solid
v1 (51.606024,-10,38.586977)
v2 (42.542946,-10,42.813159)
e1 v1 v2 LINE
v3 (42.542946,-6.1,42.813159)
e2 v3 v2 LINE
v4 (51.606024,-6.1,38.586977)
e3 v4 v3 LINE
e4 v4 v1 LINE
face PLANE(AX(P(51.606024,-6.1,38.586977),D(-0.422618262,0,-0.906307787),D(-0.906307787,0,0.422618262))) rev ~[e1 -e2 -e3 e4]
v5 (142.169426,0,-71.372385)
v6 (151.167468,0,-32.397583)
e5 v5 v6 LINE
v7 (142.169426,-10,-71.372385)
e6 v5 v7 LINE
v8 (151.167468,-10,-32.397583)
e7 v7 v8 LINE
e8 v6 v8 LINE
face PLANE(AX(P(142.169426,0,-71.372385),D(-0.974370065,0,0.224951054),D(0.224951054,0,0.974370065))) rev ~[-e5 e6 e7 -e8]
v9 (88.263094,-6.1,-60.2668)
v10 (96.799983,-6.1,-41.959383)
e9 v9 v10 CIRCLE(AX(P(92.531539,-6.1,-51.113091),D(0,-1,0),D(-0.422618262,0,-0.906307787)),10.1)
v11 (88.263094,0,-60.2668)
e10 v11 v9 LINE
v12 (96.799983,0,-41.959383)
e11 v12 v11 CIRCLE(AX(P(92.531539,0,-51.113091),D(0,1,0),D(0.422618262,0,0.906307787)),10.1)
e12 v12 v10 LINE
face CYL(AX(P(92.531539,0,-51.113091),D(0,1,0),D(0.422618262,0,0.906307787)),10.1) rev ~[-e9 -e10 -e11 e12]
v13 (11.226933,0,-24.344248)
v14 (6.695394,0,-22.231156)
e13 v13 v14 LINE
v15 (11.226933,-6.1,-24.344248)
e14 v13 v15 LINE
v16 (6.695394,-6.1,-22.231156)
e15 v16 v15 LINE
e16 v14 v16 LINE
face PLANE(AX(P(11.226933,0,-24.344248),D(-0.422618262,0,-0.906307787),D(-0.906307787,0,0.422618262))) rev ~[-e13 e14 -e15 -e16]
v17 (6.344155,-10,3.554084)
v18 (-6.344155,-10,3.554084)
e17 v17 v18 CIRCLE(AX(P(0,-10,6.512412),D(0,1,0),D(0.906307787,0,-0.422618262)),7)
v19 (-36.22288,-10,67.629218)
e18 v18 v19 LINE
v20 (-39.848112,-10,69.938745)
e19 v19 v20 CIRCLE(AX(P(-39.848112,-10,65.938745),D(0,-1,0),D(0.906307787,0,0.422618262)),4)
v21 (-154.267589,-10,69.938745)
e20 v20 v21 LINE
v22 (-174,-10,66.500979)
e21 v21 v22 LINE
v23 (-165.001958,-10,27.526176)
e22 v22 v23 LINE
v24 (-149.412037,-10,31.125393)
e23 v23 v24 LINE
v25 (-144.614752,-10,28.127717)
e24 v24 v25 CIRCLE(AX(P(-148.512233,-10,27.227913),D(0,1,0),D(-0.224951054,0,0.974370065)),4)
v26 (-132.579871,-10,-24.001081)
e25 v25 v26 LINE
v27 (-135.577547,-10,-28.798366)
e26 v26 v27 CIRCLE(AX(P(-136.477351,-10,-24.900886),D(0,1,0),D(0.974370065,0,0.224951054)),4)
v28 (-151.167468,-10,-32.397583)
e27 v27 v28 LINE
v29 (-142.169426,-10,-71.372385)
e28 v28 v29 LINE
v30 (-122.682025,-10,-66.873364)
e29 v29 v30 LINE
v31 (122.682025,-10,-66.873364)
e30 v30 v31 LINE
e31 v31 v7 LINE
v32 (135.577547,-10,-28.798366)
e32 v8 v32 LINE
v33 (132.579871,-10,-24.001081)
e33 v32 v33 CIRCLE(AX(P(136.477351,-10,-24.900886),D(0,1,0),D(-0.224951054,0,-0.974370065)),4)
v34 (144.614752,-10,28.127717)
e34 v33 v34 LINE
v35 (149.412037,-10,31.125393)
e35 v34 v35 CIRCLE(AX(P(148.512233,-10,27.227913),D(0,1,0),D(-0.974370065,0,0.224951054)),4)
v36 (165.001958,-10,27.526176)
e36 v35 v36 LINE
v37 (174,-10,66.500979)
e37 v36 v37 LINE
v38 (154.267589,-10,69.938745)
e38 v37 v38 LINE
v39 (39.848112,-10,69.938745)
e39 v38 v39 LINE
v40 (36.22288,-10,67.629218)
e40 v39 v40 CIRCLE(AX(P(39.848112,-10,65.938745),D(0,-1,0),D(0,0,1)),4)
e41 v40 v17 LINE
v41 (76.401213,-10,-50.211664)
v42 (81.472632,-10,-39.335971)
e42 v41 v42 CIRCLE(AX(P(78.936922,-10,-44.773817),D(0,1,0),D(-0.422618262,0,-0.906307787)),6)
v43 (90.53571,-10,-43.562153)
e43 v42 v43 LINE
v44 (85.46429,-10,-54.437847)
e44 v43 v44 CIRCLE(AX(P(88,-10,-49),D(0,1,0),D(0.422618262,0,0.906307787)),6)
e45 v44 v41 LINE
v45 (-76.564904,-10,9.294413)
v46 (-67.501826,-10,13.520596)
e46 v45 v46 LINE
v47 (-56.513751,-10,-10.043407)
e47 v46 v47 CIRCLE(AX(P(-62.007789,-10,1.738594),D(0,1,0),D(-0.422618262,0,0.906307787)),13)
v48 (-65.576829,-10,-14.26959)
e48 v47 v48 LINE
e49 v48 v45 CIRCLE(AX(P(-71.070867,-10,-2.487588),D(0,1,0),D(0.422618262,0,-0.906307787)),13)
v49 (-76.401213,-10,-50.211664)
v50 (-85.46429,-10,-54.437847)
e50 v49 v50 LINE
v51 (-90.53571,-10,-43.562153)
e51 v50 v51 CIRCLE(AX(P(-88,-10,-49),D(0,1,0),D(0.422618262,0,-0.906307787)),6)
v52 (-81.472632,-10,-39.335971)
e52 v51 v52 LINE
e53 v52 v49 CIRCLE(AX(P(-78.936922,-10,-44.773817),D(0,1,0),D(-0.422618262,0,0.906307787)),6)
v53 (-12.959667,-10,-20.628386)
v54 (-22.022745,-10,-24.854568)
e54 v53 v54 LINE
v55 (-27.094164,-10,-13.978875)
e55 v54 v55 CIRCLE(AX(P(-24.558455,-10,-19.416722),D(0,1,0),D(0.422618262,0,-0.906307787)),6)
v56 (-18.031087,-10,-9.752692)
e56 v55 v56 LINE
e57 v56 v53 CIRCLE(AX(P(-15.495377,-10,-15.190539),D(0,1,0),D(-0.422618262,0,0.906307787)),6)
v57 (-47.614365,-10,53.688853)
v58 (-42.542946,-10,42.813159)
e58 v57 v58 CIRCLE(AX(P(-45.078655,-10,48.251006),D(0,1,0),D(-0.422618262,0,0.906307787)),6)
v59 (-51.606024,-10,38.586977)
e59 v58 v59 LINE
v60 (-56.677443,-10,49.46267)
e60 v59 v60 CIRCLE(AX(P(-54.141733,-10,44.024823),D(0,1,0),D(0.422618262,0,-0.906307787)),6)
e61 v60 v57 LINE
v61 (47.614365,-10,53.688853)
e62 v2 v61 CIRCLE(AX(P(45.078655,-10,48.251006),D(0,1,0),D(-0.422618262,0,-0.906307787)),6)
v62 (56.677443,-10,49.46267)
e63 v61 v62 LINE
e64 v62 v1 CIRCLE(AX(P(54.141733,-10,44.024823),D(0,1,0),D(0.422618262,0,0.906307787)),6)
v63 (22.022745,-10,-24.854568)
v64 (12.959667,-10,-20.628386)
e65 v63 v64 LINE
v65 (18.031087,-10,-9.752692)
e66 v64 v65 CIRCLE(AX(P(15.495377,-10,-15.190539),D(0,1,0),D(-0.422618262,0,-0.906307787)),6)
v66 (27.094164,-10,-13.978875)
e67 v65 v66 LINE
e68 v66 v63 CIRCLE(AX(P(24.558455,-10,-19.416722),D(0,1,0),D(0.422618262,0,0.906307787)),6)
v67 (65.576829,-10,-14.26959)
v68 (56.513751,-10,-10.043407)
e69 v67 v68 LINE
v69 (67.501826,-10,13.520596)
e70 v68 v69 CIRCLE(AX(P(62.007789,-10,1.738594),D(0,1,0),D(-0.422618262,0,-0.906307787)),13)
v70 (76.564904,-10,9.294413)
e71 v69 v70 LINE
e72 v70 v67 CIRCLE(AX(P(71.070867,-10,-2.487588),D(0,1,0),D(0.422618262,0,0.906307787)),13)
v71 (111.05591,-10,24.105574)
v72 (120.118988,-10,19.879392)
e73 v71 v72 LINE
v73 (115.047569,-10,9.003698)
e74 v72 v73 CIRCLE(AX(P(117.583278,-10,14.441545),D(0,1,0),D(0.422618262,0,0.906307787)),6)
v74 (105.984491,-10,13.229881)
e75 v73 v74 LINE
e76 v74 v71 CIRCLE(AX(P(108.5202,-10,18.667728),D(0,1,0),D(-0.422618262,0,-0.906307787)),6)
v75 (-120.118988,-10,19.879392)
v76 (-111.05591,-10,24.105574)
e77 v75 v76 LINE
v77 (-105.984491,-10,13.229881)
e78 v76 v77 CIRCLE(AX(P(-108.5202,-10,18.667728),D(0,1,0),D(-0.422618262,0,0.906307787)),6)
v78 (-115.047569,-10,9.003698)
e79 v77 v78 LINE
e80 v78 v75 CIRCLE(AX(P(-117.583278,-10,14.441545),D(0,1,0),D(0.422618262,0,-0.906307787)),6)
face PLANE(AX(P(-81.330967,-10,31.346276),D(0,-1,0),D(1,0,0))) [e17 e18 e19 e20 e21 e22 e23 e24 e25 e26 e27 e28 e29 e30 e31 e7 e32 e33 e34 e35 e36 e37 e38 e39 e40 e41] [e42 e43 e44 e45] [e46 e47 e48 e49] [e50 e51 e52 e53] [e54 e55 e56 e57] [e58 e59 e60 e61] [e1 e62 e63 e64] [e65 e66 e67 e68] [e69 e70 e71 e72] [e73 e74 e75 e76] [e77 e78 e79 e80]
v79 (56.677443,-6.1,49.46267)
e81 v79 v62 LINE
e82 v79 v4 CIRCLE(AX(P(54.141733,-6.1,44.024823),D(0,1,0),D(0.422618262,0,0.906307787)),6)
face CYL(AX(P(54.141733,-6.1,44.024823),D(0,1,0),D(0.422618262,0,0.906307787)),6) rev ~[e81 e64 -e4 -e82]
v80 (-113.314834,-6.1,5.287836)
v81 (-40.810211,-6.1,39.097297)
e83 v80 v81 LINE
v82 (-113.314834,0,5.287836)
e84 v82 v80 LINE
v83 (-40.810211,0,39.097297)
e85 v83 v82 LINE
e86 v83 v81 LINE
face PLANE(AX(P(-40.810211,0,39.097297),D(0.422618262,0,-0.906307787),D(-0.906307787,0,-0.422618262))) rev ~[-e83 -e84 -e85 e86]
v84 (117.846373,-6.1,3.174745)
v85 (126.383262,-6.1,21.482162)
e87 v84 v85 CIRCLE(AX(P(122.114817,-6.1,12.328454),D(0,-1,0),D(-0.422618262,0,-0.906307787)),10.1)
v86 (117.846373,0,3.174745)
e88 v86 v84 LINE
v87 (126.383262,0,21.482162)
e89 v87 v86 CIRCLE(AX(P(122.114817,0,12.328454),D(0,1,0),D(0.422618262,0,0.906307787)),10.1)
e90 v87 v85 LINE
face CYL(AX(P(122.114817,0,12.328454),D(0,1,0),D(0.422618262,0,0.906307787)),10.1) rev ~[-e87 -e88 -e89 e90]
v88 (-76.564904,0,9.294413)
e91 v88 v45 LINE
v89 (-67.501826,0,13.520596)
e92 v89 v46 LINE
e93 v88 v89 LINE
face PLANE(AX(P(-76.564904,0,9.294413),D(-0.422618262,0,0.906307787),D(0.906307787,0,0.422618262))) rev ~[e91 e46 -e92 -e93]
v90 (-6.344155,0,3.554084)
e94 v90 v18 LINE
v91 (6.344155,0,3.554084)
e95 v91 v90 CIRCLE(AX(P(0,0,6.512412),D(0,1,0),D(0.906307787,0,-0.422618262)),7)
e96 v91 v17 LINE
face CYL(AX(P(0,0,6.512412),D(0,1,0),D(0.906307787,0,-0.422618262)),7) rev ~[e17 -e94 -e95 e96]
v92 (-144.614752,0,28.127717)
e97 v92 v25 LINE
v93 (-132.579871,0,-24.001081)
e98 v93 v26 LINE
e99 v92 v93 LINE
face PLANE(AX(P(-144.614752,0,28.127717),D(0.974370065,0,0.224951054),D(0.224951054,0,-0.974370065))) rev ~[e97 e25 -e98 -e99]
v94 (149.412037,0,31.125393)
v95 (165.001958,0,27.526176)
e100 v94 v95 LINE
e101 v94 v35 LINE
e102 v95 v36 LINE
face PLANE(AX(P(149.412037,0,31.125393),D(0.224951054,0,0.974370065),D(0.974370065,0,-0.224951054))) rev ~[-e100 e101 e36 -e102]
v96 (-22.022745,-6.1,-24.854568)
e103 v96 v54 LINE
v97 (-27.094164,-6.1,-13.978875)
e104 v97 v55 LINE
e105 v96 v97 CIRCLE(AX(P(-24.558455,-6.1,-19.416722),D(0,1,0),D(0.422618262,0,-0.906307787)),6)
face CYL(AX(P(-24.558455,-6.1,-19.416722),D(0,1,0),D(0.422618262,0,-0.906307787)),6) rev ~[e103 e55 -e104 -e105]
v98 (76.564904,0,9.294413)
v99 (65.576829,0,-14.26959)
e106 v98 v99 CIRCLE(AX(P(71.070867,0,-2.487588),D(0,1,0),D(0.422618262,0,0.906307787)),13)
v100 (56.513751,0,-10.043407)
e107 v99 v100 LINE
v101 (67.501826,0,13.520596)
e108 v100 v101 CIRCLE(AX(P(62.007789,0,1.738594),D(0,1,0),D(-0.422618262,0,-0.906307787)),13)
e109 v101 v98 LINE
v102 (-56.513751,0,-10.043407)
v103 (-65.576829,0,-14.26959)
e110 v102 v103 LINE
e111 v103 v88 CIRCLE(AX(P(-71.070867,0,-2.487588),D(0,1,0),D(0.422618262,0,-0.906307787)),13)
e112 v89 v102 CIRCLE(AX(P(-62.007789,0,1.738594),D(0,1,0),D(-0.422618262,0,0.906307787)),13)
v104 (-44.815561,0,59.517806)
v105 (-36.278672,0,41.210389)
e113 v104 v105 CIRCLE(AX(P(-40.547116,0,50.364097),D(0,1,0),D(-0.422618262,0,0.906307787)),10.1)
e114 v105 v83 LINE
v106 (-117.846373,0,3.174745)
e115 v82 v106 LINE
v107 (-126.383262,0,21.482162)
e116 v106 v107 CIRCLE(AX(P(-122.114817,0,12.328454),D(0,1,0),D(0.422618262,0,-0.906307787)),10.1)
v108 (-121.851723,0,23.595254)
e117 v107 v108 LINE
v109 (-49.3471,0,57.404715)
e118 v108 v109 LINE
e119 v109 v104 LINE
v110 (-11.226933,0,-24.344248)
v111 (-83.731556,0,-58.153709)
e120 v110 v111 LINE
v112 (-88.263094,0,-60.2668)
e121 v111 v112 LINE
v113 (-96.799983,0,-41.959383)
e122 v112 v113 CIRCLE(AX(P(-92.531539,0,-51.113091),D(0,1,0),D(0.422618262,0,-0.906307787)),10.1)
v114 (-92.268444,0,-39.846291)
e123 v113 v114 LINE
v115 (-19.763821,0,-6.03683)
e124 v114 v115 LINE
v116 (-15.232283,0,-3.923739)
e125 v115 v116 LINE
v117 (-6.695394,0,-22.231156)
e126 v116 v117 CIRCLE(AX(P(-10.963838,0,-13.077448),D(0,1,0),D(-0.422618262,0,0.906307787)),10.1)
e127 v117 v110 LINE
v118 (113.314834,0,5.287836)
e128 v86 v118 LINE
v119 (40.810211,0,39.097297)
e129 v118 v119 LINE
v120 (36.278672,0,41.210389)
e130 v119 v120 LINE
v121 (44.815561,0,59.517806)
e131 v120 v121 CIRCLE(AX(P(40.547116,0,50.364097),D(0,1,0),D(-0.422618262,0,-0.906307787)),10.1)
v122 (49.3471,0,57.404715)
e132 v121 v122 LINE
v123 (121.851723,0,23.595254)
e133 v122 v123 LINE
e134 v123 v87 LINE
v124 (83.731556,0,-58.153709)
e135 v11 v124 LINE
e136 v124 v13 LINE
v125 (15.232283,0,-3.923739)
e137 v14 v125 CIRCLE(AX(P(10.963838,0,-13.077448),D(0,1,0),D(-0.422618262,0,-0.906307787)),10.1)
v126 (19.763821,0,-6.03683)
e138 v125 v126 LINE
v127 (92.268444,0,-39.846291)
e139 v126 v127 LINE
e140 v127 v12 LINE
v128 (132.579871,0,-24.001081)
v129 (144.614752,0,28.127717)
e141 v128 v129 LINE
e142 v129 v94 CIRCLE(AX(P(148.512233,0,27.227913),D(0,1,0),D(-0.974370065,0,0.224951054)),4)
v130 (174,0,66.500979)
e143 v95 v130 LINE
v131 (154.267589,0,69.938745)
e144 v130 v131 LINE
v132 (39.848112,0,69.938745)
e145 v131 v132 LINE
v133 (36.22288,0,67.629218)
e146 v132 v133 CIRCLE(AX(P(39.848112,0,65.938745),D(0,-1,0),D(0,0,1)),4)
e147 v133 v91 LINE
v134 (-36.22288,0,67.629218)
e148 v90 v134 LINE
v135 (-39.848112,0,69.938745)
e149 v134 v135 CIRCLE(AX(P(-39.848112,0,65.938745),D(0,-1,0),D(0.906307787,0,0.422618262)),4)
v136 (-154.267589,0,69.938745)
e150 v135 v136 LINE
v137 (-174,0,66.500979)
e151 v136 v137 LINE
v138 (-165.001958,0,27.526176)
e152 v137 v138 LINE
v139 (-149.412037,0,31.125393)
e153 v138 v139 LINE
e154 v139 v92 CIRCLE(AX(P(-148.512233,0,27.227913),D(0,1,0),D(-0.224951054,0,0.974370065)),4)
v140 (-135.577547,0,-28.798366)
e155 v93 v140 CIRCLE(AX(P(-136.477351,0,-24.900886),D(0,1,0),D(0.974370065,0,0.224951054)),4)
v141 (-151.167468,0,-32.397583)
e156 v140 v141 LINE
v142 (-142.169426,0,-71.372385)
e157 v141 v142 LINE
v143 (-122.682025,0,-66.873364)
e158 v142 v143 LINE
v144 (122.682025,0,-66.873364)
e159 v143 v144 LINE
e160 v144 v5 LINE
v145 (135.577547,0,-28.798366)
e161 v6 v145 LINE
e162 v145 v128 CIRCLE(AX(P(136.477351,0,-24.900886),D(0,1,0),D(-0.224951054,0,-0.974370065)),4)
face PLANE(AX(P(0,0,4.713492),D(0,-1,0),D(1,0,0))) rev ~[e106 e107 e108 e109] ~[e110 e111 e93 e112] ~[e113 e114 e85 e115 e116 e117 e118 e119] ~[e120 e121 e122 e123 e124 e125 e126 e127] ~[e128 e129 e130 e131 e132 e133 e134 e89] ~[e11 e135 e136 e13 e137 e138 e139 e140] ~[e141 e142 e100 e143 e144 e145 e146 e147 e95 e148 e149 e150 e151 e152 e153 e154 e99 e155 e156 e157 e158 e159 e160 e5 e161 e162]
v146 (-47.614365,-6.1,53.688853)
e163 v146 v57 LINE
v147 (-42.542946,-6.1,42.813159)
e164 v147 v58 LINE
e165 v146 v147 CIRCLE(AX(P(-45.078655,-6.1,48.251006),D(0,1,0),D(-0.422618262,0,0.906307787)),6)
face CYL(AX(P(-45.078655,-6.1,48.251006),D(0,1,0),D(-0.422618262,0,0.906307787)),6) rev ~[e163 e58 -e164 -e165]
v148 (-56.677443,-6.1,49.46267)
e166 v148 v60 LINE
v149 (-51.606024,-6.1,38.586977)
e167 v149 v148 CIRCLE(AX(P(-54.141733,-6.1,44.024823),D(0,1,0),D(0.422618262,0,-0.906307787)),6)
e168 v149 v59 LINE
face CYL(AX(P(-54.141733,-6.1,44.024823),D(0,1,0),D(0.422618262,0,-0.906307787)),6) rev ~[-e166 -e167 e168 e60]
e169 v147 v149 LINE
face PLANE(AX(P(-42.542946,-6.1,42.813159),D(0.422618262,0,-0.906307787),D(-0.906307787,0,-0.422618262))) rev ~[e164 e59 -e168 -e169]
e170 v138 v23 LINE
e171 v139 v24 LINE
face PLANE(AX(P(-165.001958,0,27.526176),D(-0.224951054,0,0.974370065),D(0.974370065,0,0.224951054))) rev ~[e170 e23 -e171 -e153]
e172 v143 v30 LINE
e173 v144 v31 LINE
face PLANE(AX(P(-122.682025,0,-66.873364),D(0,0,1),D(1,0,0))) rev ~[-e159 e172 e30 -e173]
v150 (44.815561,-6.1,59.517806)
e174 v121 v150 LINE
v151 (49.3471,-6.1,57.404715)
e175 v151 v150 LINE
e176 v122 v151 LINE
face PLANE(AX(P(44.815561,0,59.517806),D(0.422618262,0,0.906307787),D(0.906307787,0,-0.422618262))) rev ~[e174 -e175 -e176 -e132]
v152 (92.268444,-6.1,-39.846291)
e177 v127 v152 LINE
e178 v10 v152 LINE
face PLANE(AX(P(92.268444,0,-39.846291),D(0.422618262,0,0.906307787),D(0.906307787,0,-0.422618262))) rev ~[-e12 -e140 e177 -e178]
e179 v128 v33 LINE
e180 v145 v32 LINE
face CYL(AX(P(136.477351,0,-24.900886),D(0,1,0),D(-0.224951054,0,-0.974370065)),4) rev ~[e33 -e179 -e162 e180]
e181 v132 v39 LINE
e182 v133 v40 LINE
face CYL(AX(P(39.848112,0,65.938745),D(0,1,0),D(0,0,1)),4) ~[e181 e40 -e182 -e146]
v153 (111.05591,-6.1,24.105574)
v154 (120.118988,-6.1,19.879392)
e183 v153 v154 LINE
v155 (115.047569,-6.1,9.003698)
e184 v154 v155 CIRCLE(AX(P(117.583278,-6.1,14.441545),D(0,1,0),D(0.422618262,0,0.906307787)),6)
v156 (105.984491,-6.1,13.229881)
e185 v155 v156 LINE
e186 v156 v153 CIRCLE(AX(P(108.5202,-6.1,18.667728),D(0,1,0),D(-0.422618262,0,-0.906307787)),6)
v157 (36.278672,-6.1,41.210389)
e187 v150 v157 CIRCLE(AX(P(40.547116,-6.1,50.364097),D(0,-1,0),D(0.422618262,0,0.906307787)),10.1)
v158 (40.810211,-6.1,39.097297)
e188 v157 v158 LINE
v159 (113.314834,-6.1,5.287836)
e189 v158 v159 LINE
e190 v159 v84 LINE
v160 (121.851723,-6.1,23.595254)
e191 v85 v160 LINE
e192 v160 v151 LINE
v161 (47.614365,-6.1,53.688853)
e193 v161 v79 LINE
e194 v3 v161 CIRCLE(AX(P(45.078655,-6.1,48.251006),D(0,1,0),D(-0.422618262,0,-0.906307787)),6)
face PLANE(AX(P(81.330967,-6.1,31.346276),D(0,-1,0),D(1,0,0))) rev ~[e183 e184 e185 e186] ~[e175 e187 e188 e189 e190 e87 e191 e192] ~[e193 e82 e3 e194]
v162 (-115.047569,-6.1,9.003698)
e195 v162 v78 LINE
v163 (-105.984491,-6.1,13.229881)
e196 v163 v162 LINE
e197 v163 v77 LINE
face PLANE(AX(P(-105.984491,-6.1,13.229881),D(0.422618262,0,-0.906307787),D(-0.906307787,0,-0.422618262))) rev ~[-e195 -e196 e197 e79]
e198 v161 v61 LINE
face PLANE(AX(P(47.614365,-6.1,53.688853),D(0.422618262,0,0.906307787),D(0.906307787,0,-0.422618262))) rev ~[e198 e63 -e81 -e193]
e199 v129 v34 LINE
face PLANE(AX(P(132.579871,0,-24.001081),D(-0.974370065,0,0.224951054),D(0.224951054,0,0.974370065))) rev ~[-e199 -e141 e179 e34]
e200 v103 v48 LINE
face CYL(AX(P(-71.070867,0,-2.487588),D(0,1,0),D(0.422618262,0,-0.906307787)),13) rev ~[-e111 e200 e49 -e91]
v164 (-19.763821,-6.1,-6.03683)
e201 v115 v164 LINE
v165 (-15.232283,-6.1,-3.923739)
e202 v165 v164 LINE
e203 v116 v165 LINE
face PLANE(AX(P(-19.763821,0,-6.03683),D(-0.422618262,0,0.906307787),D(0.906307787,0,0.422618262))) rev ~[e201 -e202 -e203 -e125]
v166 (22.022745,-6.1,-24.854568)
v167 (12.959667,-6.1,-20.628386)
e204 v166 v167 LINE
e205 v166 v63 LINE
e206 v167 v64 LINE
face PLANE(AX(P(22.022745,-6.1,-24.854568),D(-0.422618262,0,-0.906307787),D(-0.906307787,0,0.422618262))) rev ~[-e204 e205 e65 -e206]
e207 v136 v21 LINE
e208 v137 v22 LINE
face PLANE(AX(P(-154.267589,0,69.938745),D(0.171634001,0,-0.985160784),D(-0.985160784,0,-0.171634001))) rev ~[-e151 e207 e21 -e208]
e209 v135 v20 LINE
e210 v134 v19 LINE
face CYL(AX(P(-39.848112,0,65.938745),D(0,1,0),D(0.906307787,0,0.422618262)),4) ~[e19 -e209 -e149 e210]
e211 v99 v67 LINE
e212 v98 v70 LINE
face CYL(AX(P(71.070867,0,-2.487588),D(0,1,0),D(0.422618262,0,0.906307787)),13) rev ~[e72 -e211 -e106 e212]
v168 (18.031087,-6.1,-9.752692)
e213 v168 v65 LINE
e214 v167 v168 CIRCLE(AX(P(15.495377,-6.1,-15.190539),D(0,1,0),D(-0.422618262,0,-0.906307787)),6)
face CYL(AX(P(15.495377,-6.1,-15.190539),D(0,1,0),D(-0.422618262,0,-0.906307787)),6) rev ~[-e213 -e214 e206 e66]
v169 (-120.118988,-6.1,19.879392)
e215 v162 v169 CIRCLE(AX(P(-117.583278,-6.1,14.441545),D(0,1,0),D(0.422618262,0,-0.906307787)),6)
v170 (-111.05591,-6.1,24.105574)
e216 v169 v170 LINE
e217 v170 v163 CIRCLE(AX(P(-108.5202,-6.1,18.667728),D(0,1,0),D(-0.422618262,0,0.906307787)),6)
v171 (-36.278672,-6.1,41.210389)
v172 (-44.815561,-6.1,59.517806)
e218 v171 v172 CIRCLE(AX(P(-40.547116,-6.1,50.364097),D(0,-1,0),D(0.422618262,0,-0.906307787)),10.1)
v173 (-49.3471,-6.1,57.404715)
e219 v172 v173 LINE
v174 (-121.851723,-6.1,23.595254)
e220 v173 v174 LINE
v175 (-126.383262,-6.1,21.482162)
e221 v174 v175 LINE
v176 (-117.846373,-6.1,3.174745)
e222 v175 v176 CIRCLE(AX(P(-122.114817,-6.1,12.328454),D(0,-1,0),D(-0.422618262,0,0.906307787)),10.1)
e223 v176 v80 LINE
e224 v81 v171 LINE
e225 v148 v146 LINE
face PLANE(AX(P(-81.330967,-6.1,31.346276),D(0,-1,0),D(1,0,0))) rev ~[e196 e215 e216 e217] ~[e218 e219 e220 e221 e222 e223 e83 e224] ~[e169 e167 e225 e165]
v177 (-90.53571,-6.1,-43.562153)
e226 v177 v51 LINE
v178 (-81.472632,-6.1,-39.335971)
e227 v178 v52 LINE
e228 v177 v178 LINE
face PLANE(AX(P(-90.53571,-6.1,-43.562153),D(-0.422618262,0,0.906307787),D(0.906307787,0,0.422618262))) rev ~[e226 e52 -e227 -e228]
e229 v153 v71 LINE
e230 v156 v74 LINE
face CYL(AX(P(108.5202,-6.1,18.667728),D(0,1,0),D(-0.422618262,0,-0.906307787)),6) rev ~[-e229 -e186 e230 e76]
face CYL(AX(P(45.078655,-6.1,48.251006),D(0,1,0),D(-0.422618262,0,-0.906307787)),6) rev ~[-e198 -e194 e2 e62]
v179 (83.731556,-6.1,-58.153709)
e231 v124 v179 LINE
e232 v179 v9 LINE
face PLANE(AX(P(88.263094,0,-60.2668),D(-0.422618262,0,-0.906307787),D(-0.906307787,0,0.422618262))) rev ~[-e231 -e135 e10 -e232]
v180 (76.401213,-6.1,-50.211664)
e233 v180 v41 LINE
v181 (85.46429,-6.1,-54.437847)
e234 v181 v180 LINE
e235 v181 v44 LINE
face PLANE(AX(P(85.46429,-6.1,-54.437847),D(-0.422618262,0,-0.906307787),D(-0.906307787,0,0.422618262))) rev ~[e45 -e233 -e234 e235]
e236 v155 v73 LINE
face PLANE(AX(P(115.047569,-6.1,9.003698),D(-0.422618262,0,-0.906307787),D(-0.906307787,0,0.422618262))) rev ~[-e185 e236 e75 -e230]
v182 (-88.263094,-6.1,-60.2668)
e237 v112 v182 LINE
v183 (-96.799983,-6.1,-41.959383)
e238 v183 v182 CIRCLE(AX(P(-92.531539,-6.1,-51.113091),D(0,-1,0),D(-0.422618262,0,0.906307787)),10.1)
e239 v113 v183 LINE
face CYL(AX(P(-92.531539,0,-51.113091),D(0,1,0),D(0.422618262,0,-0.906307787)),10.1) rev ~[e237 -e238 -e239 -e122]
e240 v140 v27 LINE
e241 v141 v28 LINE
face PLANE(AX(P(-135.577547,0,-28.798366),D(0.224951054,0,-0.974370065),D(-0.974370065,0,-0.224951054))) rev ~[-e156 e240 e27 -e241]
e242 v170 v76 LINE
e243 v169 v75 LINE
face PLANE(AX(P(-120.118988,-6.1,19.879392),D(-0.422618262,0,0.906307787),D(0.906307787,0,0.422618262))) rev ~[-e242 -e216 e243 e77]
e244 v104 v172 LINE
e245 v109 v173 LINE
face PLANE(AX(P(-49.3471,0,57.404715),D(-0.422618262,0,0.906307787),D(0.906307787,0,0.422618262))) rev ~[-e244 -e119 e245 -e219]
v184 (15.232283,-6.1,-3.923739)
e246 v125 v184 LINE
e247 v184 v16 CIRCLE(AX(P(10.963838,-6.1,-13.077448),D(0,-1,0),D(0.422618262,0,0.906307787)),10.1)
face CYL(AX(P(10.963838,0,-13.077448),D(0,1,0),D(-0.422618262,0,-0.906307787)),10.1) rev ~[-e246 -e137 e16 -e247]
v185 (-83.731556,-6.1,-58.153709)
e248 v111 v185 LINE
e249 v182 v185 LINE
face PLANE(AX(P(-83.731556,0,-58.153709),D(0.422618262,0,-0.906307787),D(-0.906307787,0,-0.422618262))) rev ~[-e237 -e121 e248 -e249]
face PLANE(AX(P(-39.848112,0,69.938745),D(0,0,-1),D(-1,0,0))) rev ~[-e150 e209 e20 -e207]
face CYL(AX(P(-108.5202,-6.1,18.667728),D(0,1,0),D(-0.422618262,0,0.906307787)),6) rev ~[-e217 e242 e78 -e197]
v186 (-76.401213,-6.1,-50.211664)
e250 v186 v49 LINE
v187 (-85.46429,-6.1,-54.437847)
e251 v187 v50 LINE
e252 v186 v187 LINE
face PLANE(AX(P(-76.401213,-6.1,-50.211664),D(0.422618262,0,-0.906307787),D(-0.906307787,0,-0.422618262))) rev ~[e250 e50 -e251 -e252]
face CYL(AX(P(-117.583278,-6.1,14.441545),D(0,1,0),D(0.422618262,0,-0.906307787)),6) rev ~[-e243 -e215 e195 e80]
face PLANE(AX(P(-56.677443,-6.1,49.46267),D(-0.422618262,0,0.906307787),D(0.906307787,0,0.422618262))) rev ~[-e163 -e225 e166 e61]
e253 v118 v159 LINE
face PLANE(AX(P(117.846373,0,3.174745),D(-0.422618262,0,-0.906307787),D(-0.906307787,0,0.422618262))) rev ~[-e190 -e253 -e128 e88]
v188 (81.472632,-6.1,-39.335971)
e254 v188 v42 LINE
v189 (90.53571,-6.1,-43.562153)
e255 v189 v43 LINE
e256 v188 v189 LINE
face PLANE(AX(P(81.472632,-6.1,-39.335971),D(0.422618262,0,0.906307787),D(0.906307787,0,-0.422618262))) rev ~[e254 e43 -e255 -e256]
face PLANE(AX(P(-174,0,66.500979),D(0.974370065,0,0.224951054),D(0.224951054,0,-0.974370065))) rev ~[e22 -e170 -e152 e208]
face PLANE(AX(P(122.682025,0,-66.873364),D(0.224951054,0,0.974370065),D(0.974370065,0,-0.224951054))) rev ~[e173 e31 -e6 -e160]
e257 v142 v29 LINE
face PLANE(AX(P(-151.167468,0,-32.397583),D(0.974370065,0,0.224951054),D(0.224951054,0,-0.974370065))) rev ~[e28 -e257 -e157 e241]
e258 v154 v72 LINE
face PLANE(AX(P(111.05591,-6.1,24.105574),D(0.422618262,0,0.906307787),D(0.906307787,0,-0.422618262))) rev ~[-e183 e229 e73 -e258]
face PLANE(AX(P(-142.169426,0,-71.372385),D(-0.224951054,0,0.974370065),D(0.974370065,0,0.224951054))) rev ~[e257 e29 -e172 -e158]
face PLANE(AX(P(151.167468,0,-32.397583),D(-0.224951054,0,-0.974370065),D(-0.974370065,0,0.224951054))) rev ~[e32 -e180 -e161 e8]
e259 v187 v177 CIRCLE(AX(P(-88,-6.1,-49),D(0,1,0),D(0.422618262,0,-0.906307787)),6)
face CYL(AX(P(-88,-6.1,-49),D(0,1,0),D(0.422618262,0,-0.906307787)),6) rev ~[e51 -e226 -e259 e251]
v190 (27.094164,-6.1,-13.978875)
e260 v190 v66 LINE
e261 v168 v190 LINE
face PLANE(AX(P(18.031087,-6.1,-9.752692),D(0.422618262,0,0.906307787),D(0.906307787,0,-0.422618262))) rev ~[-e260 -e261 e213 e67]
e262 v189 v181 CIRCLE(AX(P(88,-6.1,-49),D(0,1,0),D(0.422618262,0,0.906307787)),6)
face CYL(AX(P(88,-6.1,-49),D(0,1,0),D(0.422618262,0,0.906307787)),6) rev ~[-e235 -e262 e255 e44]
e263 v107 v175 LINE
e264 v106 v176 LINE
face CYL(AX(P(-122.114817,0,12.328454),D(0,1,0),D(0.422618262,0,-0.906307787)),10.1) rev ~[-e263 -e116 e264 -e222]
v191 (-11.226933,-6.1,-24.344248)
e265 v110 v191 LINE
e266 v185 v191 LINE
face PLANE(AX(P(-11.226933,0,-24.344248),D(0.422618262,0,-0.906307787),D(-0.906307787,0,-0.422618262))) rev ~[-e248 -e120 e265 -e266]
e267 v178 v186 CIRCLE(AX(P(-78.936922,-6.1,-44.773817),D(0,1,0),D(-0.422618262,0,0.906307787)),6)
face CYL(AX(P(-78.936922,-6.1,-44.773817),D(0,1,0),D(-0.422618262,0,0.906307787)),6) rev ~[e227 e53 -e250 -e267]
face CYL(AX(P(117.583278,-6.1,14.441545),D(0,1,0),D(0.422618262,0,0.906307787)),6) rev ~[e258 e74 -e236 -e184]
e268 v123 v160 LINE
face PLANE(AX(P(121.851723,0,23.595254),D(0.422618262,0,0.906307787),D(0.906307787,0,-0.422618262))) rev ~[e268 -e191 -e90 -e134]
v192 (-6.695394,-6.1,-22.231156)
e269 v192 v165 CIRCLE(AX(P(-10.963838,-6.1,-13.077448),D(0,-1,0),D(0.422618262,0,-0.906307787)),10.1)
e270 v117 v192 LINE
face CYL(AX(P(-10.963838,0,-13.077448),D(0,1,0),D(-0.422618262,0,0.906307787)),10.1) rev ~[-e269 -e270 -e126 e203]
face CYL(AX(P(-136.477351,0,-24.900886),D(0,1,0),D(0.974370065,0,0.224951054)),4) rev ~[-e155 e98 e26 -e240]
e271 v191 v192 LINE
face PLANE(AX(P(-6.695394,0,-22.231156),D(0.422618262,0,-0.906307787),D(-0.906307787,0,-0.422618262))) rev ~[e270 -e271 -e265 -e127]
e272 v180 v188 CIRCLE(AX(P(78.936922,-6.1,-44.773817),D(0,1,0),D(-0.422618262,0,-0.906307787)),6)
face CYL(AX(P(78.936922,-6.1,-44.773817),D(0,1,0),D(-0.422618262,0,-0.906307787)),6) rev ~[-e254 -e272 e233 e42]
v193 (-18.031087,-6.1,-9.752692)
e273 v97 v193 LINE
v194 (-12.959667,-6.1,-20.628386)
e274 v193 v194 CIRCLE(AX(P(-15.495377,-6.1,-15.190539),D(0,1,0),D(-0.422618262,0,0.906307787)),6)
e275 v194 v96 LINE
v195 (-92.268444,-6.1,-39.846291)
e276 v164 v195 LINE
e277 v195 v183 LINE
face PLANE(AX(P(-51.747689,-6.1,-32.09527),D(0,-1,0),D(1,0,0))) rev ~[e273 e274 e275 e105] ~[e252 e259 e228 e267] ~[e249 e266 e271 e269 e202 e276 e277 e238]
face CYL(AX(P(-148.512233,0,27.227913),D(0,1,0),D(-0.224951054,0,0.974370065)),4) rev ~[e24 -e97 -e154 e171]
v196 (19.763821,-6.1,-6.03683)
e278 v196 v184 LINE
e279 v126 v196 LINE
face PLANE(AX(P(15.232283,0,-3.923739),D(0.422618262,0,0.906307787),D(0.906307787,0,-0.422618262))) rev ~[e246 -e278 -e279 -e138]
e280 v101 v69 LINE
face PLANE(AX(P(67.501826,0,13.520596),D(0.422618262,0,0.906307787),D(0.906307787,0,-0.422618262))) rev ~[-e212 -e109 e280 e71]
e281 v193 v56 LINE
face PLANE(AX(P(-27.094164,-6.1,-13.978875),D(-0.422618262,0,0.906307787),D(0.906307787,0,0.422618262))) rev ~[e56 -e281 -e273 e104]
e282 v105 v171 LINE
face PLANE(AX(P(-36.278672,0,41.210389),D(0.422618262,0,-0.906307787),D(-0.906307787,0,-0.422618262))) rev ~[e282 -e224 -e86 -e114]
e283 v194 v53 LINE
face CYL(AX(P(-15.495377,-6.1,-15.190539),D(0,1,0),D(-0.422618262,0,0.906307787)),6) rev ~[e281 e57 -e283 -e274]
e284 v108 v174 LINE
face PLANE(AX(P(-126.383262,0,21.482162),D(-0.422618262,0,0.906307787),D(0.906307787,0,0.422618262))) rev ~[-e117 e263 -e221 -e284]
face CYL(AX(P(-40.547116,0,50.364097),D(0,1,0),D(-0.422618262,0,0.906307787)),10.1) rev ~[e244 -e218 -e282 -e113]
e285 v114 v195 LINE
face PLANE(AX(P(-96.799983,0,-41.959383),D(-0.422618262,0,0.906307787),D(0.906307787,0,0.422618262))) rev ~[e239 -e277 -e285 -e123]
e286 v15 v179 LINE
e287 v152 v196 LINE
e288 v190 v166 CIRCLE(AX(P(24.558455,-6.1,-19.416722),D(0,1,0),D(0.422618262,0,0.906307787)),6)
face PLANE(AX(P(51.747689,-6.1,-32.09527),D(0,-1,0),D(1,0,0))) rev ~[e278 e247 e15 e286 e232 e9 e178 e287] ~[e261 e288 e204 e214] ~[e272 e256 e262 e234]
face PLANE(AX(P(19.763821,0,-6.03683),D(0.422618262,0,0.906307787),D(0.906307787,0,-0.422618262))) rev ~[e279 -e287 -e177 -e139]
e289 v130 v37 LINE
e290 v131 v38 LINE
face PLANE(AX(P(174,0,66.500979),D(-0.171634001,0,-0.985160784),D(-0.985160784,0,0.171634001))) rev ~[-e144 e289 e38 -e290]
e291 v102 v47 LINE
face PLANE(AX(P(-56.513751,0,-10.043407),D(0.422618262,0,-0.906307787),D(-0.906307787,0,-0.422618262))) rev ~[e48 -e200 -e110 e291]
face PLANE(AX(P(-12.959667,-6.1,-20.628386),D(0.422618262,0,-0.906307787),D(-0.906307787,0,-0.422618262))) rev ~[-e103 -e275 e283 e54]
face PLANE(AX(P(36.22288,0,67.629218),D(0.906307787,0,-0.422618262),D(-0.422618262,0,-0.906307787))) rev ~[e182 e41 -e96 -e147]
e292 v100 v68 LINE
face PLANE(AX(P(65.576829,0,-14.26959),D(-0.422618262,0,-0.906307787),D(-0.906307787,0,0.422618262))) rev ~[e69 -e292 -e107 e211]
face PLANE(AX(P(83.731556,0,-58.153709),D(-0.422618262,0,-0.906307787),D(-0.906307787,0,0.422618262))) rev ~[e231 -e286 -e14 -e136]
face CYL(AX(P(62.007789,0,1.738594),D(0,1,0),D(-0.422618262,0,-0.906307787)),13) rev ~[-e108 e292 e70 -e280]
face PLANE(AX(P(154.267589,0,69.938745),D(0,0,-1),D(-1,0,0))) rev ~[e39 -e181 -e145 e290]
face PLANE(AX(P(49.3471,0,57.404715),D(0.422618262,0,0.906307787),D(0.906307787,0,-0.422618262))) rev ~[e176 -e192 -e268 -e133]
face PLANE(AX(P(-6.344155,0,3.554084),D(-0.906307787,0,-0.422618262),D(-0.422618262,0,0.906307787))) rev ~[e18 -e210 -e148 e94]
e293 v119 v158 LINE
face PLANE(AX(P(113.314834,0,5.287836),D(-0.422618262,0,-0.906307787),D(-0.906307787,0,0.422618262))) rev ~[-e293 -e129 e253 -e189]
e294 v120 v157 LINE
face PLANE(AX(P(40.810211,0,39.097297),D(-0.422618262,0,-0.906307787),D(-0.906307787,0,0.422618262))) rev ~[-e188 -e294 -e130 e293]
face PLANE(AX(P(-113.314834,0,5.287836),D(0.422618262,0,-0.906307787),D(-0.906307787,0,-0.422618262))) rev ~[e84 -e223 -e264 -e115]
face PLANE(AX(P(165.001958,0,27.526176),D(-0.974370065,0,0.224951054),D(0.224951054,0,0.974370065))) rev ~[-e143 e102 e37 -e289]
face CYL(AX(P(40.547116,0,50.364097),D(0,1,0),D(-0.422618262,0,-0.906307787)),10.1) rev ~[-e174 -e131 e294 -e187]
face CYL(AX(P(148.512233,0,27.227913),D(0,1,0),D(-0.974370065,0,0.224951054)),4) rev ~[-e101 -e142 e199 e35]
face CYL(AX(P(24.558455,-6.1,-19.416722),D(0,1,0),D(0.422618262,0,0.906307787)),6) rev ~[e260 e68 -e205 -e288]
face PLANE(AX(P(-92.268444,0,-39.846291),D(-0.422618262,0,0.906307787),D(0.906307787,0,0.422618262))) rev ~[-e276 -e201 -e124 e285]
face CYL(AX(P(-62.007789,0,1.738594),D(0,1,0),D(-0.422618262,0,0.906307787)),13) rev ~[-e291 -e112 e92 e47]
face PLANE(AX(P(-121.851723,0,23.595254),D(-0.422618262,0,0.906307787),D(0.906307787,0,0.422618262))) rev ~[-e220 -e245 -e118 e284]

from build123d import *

# Parameters (mm, degrees)
F1_DEPTH = 10
F2_START = 6.1
F2_DEPTH = 3.9


with BuildPart() as f1:
    # F0 (on Front) → F1 (new body)
    with BuildSketch(Plane.XZ):
        with BuildLine():
            ThreePointArc((-36.2228804372, 67.6292184035), (-37.698913152, 69.3123111398), (-39.8481115853, 69.9387453565))
            Line((-39.8481115853, 69.9387453565), (-154.2675887644, 69.9387453565))
            Line((-154.2675887644, 69.9387453565), (-174, 66.5009789131))
            Line((-174, 66.5009789131), (-165.0019578262, 27.5261763217))
            Line((-165.0019578262, 27.5261763217), (-149.4120367897, 31.1253931912))
            ThreePointArc((-149.4120367897, 31.1253931912), (-146.3925555154, 30.6201053167), (-144.6147523132, 28.1277171494))
            Line((-144.6147523132, 28.1277171494), (-132.5798709058, -24.0010813166))
            ThreePointArc((-132.5798709058, -24.0010813166), (-133.0851587803, -27.0205625909), (-135.5775469475, -28.7983657931))
            Line((-135.5775469475, -28.7983657931), (-151.1674679841, -32.3975826626))
            Line((-151.1674679841, -32.3975826626), (-142.1694258103, -71.372385254))
            Line((-142.1694258103, -71.372385254), (-122.6820245146, -66.8733641671))
            Line((-122.6820245146, -66.8733641671), (122.6820245146, -66.8733641671))
            Line((122.6820245146, -66.8733641671), (142.1694258103, -71.372385254))
            Line((142.1694258103, -71.372385254), (151.1674679841, -32.3975826626))
            Line((151.1674679841, -32.3975826626), (135.5775469475, -28.7983657931))
            ThreePointArc((135.5775469475, -28.7983657931), (133.0851587803, -27.0205625909), (132.5798709058, -24.0010813166))
            Line((132.5798709058, -24.0010813166), (144.6147523132, 28.1277171494))
            ThreePointArc((144.6147523132, 28.1277171494), (146.3925555154, 30.6201053167), (149.4120367897, 31.1253931912))
            Line((149.4120367897, 31.1253931912), (165.0019578262, 27.5261763217))
            Line((165.0019578262, 27.5261763217), (174, 66.5009789131))
            Line((174, 66.5009789131), (154.2675887644, 69.9387453565))
            Line((154.2675887644, 69.9387453565), (39.8481115853, 69.9387453565))
            ThreePointArc((39.8481115853, 69.9387453565), (37.698913152, 69.3123111398), (36.2228804372, 67.6292184035))
            Line((36.2228804372, 67.6292184035), (6.3441545093, 3.554083875))
            ThreePointArc((6.3441545093, 3.554083875), (0, -0.4875882928), (-6.3441545093, 3.554083875))
            Line((-6.3441545093, 3.554083875), (-36.2228804372, 67.6292184035))
        make_face()
        with BuildLine():
            Line((-96.7999833788, -41.9593826596), (-92.2684444436, -39.8462913509))
            Line((-92.2684444436, -39.8462913509), (-19.7638214806, -6.0368304117))
            Line((-19.7638214806, -6.0368304117), (-15.2322825455, -3.923739103))
            ThreePointArc((-15.2322825455, -3.923739103), (-1.8101294528, -8.8090033085), (-6.6953936583, -22.2311564011))
            Line((-6.6953936583, -22.2311564011), (-11.2269325935, -24.3442477098))
            Line((-11.2269325935, -24.3442477098), (-83.7315555564, -58.1537086491))
            Line((-83.7315555564, -58.1537086491), (-88.2630944916, -60.2667999578))
            ThreePointArc((-88.2630944916, -60.2667999578), (-101.6852475843, -55.3815357523), (-96.7999833788, -41.9593826596))
        make_face(mode=Mode.SUBTRACT)
        with BuildLine():
            Line((88.2630944916, -60.2667999578), (83.7315555564, -58.1537086491))
            Line((83.7315555564, -58.1537086491), (11.2269325935, -24.3442477098))
            Line((11.2269325935, -24.3442477098), (6.6953936583, -22.2311564011))
            ThreePointArc((6.6953936583, -22.2311564011), (1.8101294528, -8.8090033085), (15.2322825455, -3.923739103))
            Line((15.2322825455, -3.923739103), (19.7638214806, -6.0368304117))
            Line((19.7638214806, -6.0368304117), (92.2684444436, -39.8462913509))
            Line((92.2684444436, -39.8462913509), (96.7999833788, -41.9593826596))
            ThreePointArc((96.7999833788, -41.9593826596), (101.6852475843, -55.3815357523), (88.2630944916, -60.2667999578))
        make_face(mode=Mode.SUBTRACT)
        with BuildLine():
            ThreePointArc((-65.576829212, -14.2695895243), (-82.8528678461, -7.9816256954), (-76.5649040173, 9.2944129387))
            Line((-76.5649040173, 9.2944129387), (-67.5018261469, 13.5205955561))
            ThreePointArc((-67.5018261469, 13.5205955561), (-50.2257875128, 7.2326317272), (-56.5137513416, -10.0434069069))
            Line((-56.5137513416, -10.0434069069), (-65.576829212, -14.2695895243))
        make_face(mode=Mode.SUBTRACT)
        with BuildLine():
            Line((-40.8102109153, 39.0972973828), (-113.3148338783, 5.2878364435))
            Line((-113.3148338783, 5.2878364435), (-117.8463728135, 3.1747451348))
            ThreePointArc((-117.8463728135, 3.1747451348), (-131.2685259061, 8.0600093403), (-126.3832617006, 21.4821624329))
            Line((-126.3832617006, 21.4821624329), (-121.8517227654, 23.5952537416))
            Line((-121.8517227654, 23.5952537416), (-49.3470998025, 57.4047146809))
            Line((-49.3470998025, 57.4047146809), (-44.8155608673, 59.5178059896))
            ThreePointArc((-44.8155608673, 59.5178059896), (-31.3934077747, 54.6325417841), (-36.2786719802, 41.2103886915))
            Line((-36.2786719802, 41.2103886915), (-40.8102109153, 39.0972973828))
        make_face(mode=Mode.SUBTRACT)
        with BuildLine():
            ThreePointArc((76.5649040173, 9.2944129387), (82.8528678461, -7.9816256954), (65.576829212, -14.2695895243))
            Line((65.576829212, -14.2695895243), (56.5137513416, -10.0434069069))
            ThreePointArc((56.5137513416, -10.0434069069), (50.2257875128, 7.2326317272), (67.5018261469, 13.5205955561))
            Line((67.5018261469, 13.5205955561), (76.5649040173, 9.2944129387))
        make_face(mode=Mode.SUBTRACT)
        with BuildLine():
            Line((49.3470998025, 57.4047146809), (121.8517227654, 23.5952537416))
            Line((121.8517227654, 23.5952537416), (126.3832617006, 21.4821624329))
            ThreePointArc((126.3832617006, 21.4821624329), (131.2685259061, 8.0600093403), (117.8463728135, 3.1747451348))
            Line((117.8463728135, 3.1747451348), (113.3148338783, 5.2878364435))
            Line((113.3148338783, 5.2878364435), (40.8102109153, 39.0972973828))
            Line((40.8102109153, 39.0972973828), (36.2786719802, 41.2103886915))
            ThreePointArc((36.2786719802, 41.2103886915), (31.3934077747, 54.6325417841), (44.8155608673, 59.5178059896))
            Line((44.8155608673, 59.5178059896), (49.3470998025, 57.4047146809))
        make_face(mode=Mode.SUBTRACT)
    extrude(amount=F1_DEPTH)

    # F0 (on Front) → F2 (join)
    with BuildSketch(Plane.XZ.offset(F2_START)):
        with BuildLine():
            Line((-117.8463728135, 3.1747451348), (-113.3148338783, 5.2878364435))
            Line((-113.3148338783, 5.2878364435), (-40.8102109153, 39.0972973828))
            Line((-40.8102109153, 39.0972973828), (-36.2786719802, 41.2103886915))
            ThreePointArc((-36.2786719802, 41.2103886915), (-31.3934077747, 54.6325417841), (-44.8155608673, 59.5178059896))
            Line((-44.8155608673, 59.5178059896), (-49.3470998025, 57.4047146809))
            Line((-49.3470998025, 57.4047146809), (-121.8517227654, 23.5952537416))
            Line((-121.8517227654, 23.5952537416), (-126.3832617006, 21.4821624329))
            ThreePointArc((-126.3832617006, 21.4821624329), (-131.2685259061, 8.0600093403), (-117.8463728135, 3.1747451348))
        make_face()
        with BuildLine():
            Line((-105.984490881, 13.2298809878), (-115.0475687514, 9.0036983703))
            ThreePointArc((-115.0475687514, 9.0036983703), (-123.0211250441, 11.9058355221), (-120.1189878923, 19.8793918148))
            Line((-120.1189878923, 19.8793918148), (-111.0559100219, 24.1055744322))
            ThreePointArc((-111.0559100219, 24.1055744322), (-103.0823537293, 21.2034372804), (-105.984490881, 13.2298809878))
        make_face(mode=Mode.SUBTRACT)
        with BuildLine():
            ThreePointArc((-47.6143649294, 53.688852754), (-39.6408086367, 50.7867156023), (-42.5429457885, 42.8131593096))
            Line((-42.5429457885, 42.8131593096), (-51.6060236588, 38.5869766922))
            ThreePointArc((-51.6060236588, 38.5869766922), (-59.5795799515, 41.489113844), (-56.6774427997, 49.4626701366))
            Line((-56.6774427997, 49.4626701366), (-47.6143649294, 53.688852754))
        make_face(mode=Mode.SUBTRACT)
        with BuildLine():
            Line((-19.7638214806, -6.0368304117), (-92.2684444436, -39.8462913509))
            Line((-92.2684444436, -39.8462913509), (-96.7999833788, -41.9593826596))
            ThreePointArc((-96.7999833788, -41.9593826596), (-101.6852475843, -55.3815357523), (-88.2630944916, -60.2667999578))
            Line((-88.2630944916, -60.2667999578), (-83.7315555564, -58.1537086491))
            Line((-83.7315555564, -58.1537086491), (-11.2269325935, -24.3442477098))
            Line((-11.2269325935, -24.3442477098), (-6.6953936583, -22.2311564011))
            ThreePointArc((-6.6953936583, -22.2311564011), (-1.8101294528, -8.8090033085), (-15.2322825455, -3.923739103))
            Line((-15.2322825455, -3.923739103), (-19.7638214806, -6.0368304117))
        make_face()
        with BuildLine():
            ThreePointArc((-85.4642904296, -54.4378467222), (-93.4378467222, -51.5357095704), (-90.5357095704, -43.5621532778))
            Line((-90.5357095704, -43.5621532778), (-81.4726317001, -39.3359706604))
            ThreePointArc((-81.4726317001, -39.3359706604), (-73.4990754074, -42.2381078121), (-76.4012125592, -50.2116641048))
            Line((-76.4012125592, -50.2116641048), (-85.4642904296, -54.4378467222))
        make_face(mode=Mode.SUBTRACT)
        with BuildLine():
            Line((-12.9596674666, -20.628385783), (-22.022745337, -24.8545684004))
            ThreePointArc((-22.022745337, -24.8545684004), (-29.9963016297, -21.9524312486), (-27.0941644779, -13.9788749559))
            Line((-27.0941644779, -13.9788749559), (-18.0310866075, -9.7526923385))
            ThreePointArc((-18.0310866075, -9.7526923385), (-10.0575303148, -12.6548294903), (-12.9596674666, -20.628385783))
        make_face(mode=Mode.SUBTRACT)
        with BuildLine():
            Line((126.3832617006, 21.4821624329), (121.8517227654, 23.5952537416))
            Line((121.8517227654, 23.5952537416), (49.3470998025, 57.4047146809))
            Line((49.3470998025, 57.4047146809), (44.8155608673, 59.5178059896))
            ThreePointArc((44.8155608673, 59.5178059896), (31.3934077747, 54.6325417841), (36.2786719802, 41.2103886915))
            Line((36.2786719802, 41.2103886915), (40.8102109153, 39.0972973828))
            Line((40.8102109153, 39.0972973828), (113.3148338783, 5.2878364435))
            Line((113.3148338783, 5.2878364435), (117.8463728135, 3.1747451348))
            ThreePointArc((117.8463728135, 3.1747451348), (131.2685259061, 8.0600093403), (126.3832617006, 21.4821624329))
        make_face()
        with BuildLine():
            ThreePointArc((120.1189878923, 19.8793918148), (123.0211250441, 11.9058355221), (115.0475687514, 9.0036983703))
            Line((115.0475687514, 9.0036983703), (105.984490881, 13.2298809878))
            ThreePointArc((105.984490881, 13.2298809878), (103.0823537293, 21.2034372804), (111.0559100219, 24.1055744322))
            Line((111.0559100219, 24.1055744322), (120.1189878923, 19.8793918148))
        make_face(mode=Mode.SUBTRACT)
        with BuildLine():
            ThreePointArc((42.5429457885, 42.8131593096), (39.6408086367, 50.7867156023), (47.6143649294, 53.688852754))
            Line((47.6143649294, 53.688852754), (56.6774427997, 49.4626701366))
            ThreePointArc((56.6774427997, 49.4626701366), (59.5795799515, 41.489113844), (51.6060236588, 38.5869766922))
            Line((51.6060236588, 38.5869766922), (42.5429457885, 42.8131593096))
        make_face(mode=Mode.SUBTRACT)
        with BuildLine():
            Line((11.2269325935, -24.3442477098), (83.7315555564, -58.1537086491))
            Line((83.7315555564, -58.1537086491), (88.2630944916, -60.2667999578))
            ThreePointArc((88.2630944916, -60.2667999578), (101.6852475843, -55.3815357523), (96.7999833788, -41.9593826596))
            Line((96.7999833788, -41.9593826596), (92.2684444436, -39.8462913509))
            Line((92.2684444436, -39.8462913509), (19.7638214806, -6.0368304117))
            Line((19.7638214806, -6.0368304117), (15.2322825455, -3.923739103))
            ThreePointArc((15.2322825455, -3.923739103), (1.8101294528, -8.8090033085), (6.6953936583, -22.2311564011))
            Line((6.6953936583, -22.2311564011), (11.2269325935, -24.3442477098))
        make_face()
        with BuildLine():
            ThreePointArc((90.5357095704, -43.5621532778), (93.4378467222, -51.5357095704), (85.4642904296, -54.4378467222))
            Line((85.4642904296, -54.4378467222), (76.4012125592, -50.2116641048))
            ThreePointArc((76.4012125592, -50.2116641048), (73.4990754074, -42.2381078121), (81.4726317001, -39.3359706604))
            Line((81.4726317001, -39.3359706604), (90.5357095704, -43.5621532778))
        make_face(mode=Mode.SUBTRACT)
        with BuildLine():
            ThreePointArc((12.9596674666, -20.628385783), (10.0575303148, -12.6548294903), (18.0310866075, -9.7526923385))
            Line((18.0310866075, -9.7526923385), (27.0941644779, -13.9788749559))
            ThreePointArc((27.0941644779, -13.9788749559), (29.9963016297, -21.9524312486), (22.022745337, -24.8545684004))
            Line((22.022745337, -24.8545684004), (12.9596674666, -20.628385783))
        make_face(mode=Mode.SUBTRACT)
    extrude(amount=F2_DEPTH)


solid = f1.part
